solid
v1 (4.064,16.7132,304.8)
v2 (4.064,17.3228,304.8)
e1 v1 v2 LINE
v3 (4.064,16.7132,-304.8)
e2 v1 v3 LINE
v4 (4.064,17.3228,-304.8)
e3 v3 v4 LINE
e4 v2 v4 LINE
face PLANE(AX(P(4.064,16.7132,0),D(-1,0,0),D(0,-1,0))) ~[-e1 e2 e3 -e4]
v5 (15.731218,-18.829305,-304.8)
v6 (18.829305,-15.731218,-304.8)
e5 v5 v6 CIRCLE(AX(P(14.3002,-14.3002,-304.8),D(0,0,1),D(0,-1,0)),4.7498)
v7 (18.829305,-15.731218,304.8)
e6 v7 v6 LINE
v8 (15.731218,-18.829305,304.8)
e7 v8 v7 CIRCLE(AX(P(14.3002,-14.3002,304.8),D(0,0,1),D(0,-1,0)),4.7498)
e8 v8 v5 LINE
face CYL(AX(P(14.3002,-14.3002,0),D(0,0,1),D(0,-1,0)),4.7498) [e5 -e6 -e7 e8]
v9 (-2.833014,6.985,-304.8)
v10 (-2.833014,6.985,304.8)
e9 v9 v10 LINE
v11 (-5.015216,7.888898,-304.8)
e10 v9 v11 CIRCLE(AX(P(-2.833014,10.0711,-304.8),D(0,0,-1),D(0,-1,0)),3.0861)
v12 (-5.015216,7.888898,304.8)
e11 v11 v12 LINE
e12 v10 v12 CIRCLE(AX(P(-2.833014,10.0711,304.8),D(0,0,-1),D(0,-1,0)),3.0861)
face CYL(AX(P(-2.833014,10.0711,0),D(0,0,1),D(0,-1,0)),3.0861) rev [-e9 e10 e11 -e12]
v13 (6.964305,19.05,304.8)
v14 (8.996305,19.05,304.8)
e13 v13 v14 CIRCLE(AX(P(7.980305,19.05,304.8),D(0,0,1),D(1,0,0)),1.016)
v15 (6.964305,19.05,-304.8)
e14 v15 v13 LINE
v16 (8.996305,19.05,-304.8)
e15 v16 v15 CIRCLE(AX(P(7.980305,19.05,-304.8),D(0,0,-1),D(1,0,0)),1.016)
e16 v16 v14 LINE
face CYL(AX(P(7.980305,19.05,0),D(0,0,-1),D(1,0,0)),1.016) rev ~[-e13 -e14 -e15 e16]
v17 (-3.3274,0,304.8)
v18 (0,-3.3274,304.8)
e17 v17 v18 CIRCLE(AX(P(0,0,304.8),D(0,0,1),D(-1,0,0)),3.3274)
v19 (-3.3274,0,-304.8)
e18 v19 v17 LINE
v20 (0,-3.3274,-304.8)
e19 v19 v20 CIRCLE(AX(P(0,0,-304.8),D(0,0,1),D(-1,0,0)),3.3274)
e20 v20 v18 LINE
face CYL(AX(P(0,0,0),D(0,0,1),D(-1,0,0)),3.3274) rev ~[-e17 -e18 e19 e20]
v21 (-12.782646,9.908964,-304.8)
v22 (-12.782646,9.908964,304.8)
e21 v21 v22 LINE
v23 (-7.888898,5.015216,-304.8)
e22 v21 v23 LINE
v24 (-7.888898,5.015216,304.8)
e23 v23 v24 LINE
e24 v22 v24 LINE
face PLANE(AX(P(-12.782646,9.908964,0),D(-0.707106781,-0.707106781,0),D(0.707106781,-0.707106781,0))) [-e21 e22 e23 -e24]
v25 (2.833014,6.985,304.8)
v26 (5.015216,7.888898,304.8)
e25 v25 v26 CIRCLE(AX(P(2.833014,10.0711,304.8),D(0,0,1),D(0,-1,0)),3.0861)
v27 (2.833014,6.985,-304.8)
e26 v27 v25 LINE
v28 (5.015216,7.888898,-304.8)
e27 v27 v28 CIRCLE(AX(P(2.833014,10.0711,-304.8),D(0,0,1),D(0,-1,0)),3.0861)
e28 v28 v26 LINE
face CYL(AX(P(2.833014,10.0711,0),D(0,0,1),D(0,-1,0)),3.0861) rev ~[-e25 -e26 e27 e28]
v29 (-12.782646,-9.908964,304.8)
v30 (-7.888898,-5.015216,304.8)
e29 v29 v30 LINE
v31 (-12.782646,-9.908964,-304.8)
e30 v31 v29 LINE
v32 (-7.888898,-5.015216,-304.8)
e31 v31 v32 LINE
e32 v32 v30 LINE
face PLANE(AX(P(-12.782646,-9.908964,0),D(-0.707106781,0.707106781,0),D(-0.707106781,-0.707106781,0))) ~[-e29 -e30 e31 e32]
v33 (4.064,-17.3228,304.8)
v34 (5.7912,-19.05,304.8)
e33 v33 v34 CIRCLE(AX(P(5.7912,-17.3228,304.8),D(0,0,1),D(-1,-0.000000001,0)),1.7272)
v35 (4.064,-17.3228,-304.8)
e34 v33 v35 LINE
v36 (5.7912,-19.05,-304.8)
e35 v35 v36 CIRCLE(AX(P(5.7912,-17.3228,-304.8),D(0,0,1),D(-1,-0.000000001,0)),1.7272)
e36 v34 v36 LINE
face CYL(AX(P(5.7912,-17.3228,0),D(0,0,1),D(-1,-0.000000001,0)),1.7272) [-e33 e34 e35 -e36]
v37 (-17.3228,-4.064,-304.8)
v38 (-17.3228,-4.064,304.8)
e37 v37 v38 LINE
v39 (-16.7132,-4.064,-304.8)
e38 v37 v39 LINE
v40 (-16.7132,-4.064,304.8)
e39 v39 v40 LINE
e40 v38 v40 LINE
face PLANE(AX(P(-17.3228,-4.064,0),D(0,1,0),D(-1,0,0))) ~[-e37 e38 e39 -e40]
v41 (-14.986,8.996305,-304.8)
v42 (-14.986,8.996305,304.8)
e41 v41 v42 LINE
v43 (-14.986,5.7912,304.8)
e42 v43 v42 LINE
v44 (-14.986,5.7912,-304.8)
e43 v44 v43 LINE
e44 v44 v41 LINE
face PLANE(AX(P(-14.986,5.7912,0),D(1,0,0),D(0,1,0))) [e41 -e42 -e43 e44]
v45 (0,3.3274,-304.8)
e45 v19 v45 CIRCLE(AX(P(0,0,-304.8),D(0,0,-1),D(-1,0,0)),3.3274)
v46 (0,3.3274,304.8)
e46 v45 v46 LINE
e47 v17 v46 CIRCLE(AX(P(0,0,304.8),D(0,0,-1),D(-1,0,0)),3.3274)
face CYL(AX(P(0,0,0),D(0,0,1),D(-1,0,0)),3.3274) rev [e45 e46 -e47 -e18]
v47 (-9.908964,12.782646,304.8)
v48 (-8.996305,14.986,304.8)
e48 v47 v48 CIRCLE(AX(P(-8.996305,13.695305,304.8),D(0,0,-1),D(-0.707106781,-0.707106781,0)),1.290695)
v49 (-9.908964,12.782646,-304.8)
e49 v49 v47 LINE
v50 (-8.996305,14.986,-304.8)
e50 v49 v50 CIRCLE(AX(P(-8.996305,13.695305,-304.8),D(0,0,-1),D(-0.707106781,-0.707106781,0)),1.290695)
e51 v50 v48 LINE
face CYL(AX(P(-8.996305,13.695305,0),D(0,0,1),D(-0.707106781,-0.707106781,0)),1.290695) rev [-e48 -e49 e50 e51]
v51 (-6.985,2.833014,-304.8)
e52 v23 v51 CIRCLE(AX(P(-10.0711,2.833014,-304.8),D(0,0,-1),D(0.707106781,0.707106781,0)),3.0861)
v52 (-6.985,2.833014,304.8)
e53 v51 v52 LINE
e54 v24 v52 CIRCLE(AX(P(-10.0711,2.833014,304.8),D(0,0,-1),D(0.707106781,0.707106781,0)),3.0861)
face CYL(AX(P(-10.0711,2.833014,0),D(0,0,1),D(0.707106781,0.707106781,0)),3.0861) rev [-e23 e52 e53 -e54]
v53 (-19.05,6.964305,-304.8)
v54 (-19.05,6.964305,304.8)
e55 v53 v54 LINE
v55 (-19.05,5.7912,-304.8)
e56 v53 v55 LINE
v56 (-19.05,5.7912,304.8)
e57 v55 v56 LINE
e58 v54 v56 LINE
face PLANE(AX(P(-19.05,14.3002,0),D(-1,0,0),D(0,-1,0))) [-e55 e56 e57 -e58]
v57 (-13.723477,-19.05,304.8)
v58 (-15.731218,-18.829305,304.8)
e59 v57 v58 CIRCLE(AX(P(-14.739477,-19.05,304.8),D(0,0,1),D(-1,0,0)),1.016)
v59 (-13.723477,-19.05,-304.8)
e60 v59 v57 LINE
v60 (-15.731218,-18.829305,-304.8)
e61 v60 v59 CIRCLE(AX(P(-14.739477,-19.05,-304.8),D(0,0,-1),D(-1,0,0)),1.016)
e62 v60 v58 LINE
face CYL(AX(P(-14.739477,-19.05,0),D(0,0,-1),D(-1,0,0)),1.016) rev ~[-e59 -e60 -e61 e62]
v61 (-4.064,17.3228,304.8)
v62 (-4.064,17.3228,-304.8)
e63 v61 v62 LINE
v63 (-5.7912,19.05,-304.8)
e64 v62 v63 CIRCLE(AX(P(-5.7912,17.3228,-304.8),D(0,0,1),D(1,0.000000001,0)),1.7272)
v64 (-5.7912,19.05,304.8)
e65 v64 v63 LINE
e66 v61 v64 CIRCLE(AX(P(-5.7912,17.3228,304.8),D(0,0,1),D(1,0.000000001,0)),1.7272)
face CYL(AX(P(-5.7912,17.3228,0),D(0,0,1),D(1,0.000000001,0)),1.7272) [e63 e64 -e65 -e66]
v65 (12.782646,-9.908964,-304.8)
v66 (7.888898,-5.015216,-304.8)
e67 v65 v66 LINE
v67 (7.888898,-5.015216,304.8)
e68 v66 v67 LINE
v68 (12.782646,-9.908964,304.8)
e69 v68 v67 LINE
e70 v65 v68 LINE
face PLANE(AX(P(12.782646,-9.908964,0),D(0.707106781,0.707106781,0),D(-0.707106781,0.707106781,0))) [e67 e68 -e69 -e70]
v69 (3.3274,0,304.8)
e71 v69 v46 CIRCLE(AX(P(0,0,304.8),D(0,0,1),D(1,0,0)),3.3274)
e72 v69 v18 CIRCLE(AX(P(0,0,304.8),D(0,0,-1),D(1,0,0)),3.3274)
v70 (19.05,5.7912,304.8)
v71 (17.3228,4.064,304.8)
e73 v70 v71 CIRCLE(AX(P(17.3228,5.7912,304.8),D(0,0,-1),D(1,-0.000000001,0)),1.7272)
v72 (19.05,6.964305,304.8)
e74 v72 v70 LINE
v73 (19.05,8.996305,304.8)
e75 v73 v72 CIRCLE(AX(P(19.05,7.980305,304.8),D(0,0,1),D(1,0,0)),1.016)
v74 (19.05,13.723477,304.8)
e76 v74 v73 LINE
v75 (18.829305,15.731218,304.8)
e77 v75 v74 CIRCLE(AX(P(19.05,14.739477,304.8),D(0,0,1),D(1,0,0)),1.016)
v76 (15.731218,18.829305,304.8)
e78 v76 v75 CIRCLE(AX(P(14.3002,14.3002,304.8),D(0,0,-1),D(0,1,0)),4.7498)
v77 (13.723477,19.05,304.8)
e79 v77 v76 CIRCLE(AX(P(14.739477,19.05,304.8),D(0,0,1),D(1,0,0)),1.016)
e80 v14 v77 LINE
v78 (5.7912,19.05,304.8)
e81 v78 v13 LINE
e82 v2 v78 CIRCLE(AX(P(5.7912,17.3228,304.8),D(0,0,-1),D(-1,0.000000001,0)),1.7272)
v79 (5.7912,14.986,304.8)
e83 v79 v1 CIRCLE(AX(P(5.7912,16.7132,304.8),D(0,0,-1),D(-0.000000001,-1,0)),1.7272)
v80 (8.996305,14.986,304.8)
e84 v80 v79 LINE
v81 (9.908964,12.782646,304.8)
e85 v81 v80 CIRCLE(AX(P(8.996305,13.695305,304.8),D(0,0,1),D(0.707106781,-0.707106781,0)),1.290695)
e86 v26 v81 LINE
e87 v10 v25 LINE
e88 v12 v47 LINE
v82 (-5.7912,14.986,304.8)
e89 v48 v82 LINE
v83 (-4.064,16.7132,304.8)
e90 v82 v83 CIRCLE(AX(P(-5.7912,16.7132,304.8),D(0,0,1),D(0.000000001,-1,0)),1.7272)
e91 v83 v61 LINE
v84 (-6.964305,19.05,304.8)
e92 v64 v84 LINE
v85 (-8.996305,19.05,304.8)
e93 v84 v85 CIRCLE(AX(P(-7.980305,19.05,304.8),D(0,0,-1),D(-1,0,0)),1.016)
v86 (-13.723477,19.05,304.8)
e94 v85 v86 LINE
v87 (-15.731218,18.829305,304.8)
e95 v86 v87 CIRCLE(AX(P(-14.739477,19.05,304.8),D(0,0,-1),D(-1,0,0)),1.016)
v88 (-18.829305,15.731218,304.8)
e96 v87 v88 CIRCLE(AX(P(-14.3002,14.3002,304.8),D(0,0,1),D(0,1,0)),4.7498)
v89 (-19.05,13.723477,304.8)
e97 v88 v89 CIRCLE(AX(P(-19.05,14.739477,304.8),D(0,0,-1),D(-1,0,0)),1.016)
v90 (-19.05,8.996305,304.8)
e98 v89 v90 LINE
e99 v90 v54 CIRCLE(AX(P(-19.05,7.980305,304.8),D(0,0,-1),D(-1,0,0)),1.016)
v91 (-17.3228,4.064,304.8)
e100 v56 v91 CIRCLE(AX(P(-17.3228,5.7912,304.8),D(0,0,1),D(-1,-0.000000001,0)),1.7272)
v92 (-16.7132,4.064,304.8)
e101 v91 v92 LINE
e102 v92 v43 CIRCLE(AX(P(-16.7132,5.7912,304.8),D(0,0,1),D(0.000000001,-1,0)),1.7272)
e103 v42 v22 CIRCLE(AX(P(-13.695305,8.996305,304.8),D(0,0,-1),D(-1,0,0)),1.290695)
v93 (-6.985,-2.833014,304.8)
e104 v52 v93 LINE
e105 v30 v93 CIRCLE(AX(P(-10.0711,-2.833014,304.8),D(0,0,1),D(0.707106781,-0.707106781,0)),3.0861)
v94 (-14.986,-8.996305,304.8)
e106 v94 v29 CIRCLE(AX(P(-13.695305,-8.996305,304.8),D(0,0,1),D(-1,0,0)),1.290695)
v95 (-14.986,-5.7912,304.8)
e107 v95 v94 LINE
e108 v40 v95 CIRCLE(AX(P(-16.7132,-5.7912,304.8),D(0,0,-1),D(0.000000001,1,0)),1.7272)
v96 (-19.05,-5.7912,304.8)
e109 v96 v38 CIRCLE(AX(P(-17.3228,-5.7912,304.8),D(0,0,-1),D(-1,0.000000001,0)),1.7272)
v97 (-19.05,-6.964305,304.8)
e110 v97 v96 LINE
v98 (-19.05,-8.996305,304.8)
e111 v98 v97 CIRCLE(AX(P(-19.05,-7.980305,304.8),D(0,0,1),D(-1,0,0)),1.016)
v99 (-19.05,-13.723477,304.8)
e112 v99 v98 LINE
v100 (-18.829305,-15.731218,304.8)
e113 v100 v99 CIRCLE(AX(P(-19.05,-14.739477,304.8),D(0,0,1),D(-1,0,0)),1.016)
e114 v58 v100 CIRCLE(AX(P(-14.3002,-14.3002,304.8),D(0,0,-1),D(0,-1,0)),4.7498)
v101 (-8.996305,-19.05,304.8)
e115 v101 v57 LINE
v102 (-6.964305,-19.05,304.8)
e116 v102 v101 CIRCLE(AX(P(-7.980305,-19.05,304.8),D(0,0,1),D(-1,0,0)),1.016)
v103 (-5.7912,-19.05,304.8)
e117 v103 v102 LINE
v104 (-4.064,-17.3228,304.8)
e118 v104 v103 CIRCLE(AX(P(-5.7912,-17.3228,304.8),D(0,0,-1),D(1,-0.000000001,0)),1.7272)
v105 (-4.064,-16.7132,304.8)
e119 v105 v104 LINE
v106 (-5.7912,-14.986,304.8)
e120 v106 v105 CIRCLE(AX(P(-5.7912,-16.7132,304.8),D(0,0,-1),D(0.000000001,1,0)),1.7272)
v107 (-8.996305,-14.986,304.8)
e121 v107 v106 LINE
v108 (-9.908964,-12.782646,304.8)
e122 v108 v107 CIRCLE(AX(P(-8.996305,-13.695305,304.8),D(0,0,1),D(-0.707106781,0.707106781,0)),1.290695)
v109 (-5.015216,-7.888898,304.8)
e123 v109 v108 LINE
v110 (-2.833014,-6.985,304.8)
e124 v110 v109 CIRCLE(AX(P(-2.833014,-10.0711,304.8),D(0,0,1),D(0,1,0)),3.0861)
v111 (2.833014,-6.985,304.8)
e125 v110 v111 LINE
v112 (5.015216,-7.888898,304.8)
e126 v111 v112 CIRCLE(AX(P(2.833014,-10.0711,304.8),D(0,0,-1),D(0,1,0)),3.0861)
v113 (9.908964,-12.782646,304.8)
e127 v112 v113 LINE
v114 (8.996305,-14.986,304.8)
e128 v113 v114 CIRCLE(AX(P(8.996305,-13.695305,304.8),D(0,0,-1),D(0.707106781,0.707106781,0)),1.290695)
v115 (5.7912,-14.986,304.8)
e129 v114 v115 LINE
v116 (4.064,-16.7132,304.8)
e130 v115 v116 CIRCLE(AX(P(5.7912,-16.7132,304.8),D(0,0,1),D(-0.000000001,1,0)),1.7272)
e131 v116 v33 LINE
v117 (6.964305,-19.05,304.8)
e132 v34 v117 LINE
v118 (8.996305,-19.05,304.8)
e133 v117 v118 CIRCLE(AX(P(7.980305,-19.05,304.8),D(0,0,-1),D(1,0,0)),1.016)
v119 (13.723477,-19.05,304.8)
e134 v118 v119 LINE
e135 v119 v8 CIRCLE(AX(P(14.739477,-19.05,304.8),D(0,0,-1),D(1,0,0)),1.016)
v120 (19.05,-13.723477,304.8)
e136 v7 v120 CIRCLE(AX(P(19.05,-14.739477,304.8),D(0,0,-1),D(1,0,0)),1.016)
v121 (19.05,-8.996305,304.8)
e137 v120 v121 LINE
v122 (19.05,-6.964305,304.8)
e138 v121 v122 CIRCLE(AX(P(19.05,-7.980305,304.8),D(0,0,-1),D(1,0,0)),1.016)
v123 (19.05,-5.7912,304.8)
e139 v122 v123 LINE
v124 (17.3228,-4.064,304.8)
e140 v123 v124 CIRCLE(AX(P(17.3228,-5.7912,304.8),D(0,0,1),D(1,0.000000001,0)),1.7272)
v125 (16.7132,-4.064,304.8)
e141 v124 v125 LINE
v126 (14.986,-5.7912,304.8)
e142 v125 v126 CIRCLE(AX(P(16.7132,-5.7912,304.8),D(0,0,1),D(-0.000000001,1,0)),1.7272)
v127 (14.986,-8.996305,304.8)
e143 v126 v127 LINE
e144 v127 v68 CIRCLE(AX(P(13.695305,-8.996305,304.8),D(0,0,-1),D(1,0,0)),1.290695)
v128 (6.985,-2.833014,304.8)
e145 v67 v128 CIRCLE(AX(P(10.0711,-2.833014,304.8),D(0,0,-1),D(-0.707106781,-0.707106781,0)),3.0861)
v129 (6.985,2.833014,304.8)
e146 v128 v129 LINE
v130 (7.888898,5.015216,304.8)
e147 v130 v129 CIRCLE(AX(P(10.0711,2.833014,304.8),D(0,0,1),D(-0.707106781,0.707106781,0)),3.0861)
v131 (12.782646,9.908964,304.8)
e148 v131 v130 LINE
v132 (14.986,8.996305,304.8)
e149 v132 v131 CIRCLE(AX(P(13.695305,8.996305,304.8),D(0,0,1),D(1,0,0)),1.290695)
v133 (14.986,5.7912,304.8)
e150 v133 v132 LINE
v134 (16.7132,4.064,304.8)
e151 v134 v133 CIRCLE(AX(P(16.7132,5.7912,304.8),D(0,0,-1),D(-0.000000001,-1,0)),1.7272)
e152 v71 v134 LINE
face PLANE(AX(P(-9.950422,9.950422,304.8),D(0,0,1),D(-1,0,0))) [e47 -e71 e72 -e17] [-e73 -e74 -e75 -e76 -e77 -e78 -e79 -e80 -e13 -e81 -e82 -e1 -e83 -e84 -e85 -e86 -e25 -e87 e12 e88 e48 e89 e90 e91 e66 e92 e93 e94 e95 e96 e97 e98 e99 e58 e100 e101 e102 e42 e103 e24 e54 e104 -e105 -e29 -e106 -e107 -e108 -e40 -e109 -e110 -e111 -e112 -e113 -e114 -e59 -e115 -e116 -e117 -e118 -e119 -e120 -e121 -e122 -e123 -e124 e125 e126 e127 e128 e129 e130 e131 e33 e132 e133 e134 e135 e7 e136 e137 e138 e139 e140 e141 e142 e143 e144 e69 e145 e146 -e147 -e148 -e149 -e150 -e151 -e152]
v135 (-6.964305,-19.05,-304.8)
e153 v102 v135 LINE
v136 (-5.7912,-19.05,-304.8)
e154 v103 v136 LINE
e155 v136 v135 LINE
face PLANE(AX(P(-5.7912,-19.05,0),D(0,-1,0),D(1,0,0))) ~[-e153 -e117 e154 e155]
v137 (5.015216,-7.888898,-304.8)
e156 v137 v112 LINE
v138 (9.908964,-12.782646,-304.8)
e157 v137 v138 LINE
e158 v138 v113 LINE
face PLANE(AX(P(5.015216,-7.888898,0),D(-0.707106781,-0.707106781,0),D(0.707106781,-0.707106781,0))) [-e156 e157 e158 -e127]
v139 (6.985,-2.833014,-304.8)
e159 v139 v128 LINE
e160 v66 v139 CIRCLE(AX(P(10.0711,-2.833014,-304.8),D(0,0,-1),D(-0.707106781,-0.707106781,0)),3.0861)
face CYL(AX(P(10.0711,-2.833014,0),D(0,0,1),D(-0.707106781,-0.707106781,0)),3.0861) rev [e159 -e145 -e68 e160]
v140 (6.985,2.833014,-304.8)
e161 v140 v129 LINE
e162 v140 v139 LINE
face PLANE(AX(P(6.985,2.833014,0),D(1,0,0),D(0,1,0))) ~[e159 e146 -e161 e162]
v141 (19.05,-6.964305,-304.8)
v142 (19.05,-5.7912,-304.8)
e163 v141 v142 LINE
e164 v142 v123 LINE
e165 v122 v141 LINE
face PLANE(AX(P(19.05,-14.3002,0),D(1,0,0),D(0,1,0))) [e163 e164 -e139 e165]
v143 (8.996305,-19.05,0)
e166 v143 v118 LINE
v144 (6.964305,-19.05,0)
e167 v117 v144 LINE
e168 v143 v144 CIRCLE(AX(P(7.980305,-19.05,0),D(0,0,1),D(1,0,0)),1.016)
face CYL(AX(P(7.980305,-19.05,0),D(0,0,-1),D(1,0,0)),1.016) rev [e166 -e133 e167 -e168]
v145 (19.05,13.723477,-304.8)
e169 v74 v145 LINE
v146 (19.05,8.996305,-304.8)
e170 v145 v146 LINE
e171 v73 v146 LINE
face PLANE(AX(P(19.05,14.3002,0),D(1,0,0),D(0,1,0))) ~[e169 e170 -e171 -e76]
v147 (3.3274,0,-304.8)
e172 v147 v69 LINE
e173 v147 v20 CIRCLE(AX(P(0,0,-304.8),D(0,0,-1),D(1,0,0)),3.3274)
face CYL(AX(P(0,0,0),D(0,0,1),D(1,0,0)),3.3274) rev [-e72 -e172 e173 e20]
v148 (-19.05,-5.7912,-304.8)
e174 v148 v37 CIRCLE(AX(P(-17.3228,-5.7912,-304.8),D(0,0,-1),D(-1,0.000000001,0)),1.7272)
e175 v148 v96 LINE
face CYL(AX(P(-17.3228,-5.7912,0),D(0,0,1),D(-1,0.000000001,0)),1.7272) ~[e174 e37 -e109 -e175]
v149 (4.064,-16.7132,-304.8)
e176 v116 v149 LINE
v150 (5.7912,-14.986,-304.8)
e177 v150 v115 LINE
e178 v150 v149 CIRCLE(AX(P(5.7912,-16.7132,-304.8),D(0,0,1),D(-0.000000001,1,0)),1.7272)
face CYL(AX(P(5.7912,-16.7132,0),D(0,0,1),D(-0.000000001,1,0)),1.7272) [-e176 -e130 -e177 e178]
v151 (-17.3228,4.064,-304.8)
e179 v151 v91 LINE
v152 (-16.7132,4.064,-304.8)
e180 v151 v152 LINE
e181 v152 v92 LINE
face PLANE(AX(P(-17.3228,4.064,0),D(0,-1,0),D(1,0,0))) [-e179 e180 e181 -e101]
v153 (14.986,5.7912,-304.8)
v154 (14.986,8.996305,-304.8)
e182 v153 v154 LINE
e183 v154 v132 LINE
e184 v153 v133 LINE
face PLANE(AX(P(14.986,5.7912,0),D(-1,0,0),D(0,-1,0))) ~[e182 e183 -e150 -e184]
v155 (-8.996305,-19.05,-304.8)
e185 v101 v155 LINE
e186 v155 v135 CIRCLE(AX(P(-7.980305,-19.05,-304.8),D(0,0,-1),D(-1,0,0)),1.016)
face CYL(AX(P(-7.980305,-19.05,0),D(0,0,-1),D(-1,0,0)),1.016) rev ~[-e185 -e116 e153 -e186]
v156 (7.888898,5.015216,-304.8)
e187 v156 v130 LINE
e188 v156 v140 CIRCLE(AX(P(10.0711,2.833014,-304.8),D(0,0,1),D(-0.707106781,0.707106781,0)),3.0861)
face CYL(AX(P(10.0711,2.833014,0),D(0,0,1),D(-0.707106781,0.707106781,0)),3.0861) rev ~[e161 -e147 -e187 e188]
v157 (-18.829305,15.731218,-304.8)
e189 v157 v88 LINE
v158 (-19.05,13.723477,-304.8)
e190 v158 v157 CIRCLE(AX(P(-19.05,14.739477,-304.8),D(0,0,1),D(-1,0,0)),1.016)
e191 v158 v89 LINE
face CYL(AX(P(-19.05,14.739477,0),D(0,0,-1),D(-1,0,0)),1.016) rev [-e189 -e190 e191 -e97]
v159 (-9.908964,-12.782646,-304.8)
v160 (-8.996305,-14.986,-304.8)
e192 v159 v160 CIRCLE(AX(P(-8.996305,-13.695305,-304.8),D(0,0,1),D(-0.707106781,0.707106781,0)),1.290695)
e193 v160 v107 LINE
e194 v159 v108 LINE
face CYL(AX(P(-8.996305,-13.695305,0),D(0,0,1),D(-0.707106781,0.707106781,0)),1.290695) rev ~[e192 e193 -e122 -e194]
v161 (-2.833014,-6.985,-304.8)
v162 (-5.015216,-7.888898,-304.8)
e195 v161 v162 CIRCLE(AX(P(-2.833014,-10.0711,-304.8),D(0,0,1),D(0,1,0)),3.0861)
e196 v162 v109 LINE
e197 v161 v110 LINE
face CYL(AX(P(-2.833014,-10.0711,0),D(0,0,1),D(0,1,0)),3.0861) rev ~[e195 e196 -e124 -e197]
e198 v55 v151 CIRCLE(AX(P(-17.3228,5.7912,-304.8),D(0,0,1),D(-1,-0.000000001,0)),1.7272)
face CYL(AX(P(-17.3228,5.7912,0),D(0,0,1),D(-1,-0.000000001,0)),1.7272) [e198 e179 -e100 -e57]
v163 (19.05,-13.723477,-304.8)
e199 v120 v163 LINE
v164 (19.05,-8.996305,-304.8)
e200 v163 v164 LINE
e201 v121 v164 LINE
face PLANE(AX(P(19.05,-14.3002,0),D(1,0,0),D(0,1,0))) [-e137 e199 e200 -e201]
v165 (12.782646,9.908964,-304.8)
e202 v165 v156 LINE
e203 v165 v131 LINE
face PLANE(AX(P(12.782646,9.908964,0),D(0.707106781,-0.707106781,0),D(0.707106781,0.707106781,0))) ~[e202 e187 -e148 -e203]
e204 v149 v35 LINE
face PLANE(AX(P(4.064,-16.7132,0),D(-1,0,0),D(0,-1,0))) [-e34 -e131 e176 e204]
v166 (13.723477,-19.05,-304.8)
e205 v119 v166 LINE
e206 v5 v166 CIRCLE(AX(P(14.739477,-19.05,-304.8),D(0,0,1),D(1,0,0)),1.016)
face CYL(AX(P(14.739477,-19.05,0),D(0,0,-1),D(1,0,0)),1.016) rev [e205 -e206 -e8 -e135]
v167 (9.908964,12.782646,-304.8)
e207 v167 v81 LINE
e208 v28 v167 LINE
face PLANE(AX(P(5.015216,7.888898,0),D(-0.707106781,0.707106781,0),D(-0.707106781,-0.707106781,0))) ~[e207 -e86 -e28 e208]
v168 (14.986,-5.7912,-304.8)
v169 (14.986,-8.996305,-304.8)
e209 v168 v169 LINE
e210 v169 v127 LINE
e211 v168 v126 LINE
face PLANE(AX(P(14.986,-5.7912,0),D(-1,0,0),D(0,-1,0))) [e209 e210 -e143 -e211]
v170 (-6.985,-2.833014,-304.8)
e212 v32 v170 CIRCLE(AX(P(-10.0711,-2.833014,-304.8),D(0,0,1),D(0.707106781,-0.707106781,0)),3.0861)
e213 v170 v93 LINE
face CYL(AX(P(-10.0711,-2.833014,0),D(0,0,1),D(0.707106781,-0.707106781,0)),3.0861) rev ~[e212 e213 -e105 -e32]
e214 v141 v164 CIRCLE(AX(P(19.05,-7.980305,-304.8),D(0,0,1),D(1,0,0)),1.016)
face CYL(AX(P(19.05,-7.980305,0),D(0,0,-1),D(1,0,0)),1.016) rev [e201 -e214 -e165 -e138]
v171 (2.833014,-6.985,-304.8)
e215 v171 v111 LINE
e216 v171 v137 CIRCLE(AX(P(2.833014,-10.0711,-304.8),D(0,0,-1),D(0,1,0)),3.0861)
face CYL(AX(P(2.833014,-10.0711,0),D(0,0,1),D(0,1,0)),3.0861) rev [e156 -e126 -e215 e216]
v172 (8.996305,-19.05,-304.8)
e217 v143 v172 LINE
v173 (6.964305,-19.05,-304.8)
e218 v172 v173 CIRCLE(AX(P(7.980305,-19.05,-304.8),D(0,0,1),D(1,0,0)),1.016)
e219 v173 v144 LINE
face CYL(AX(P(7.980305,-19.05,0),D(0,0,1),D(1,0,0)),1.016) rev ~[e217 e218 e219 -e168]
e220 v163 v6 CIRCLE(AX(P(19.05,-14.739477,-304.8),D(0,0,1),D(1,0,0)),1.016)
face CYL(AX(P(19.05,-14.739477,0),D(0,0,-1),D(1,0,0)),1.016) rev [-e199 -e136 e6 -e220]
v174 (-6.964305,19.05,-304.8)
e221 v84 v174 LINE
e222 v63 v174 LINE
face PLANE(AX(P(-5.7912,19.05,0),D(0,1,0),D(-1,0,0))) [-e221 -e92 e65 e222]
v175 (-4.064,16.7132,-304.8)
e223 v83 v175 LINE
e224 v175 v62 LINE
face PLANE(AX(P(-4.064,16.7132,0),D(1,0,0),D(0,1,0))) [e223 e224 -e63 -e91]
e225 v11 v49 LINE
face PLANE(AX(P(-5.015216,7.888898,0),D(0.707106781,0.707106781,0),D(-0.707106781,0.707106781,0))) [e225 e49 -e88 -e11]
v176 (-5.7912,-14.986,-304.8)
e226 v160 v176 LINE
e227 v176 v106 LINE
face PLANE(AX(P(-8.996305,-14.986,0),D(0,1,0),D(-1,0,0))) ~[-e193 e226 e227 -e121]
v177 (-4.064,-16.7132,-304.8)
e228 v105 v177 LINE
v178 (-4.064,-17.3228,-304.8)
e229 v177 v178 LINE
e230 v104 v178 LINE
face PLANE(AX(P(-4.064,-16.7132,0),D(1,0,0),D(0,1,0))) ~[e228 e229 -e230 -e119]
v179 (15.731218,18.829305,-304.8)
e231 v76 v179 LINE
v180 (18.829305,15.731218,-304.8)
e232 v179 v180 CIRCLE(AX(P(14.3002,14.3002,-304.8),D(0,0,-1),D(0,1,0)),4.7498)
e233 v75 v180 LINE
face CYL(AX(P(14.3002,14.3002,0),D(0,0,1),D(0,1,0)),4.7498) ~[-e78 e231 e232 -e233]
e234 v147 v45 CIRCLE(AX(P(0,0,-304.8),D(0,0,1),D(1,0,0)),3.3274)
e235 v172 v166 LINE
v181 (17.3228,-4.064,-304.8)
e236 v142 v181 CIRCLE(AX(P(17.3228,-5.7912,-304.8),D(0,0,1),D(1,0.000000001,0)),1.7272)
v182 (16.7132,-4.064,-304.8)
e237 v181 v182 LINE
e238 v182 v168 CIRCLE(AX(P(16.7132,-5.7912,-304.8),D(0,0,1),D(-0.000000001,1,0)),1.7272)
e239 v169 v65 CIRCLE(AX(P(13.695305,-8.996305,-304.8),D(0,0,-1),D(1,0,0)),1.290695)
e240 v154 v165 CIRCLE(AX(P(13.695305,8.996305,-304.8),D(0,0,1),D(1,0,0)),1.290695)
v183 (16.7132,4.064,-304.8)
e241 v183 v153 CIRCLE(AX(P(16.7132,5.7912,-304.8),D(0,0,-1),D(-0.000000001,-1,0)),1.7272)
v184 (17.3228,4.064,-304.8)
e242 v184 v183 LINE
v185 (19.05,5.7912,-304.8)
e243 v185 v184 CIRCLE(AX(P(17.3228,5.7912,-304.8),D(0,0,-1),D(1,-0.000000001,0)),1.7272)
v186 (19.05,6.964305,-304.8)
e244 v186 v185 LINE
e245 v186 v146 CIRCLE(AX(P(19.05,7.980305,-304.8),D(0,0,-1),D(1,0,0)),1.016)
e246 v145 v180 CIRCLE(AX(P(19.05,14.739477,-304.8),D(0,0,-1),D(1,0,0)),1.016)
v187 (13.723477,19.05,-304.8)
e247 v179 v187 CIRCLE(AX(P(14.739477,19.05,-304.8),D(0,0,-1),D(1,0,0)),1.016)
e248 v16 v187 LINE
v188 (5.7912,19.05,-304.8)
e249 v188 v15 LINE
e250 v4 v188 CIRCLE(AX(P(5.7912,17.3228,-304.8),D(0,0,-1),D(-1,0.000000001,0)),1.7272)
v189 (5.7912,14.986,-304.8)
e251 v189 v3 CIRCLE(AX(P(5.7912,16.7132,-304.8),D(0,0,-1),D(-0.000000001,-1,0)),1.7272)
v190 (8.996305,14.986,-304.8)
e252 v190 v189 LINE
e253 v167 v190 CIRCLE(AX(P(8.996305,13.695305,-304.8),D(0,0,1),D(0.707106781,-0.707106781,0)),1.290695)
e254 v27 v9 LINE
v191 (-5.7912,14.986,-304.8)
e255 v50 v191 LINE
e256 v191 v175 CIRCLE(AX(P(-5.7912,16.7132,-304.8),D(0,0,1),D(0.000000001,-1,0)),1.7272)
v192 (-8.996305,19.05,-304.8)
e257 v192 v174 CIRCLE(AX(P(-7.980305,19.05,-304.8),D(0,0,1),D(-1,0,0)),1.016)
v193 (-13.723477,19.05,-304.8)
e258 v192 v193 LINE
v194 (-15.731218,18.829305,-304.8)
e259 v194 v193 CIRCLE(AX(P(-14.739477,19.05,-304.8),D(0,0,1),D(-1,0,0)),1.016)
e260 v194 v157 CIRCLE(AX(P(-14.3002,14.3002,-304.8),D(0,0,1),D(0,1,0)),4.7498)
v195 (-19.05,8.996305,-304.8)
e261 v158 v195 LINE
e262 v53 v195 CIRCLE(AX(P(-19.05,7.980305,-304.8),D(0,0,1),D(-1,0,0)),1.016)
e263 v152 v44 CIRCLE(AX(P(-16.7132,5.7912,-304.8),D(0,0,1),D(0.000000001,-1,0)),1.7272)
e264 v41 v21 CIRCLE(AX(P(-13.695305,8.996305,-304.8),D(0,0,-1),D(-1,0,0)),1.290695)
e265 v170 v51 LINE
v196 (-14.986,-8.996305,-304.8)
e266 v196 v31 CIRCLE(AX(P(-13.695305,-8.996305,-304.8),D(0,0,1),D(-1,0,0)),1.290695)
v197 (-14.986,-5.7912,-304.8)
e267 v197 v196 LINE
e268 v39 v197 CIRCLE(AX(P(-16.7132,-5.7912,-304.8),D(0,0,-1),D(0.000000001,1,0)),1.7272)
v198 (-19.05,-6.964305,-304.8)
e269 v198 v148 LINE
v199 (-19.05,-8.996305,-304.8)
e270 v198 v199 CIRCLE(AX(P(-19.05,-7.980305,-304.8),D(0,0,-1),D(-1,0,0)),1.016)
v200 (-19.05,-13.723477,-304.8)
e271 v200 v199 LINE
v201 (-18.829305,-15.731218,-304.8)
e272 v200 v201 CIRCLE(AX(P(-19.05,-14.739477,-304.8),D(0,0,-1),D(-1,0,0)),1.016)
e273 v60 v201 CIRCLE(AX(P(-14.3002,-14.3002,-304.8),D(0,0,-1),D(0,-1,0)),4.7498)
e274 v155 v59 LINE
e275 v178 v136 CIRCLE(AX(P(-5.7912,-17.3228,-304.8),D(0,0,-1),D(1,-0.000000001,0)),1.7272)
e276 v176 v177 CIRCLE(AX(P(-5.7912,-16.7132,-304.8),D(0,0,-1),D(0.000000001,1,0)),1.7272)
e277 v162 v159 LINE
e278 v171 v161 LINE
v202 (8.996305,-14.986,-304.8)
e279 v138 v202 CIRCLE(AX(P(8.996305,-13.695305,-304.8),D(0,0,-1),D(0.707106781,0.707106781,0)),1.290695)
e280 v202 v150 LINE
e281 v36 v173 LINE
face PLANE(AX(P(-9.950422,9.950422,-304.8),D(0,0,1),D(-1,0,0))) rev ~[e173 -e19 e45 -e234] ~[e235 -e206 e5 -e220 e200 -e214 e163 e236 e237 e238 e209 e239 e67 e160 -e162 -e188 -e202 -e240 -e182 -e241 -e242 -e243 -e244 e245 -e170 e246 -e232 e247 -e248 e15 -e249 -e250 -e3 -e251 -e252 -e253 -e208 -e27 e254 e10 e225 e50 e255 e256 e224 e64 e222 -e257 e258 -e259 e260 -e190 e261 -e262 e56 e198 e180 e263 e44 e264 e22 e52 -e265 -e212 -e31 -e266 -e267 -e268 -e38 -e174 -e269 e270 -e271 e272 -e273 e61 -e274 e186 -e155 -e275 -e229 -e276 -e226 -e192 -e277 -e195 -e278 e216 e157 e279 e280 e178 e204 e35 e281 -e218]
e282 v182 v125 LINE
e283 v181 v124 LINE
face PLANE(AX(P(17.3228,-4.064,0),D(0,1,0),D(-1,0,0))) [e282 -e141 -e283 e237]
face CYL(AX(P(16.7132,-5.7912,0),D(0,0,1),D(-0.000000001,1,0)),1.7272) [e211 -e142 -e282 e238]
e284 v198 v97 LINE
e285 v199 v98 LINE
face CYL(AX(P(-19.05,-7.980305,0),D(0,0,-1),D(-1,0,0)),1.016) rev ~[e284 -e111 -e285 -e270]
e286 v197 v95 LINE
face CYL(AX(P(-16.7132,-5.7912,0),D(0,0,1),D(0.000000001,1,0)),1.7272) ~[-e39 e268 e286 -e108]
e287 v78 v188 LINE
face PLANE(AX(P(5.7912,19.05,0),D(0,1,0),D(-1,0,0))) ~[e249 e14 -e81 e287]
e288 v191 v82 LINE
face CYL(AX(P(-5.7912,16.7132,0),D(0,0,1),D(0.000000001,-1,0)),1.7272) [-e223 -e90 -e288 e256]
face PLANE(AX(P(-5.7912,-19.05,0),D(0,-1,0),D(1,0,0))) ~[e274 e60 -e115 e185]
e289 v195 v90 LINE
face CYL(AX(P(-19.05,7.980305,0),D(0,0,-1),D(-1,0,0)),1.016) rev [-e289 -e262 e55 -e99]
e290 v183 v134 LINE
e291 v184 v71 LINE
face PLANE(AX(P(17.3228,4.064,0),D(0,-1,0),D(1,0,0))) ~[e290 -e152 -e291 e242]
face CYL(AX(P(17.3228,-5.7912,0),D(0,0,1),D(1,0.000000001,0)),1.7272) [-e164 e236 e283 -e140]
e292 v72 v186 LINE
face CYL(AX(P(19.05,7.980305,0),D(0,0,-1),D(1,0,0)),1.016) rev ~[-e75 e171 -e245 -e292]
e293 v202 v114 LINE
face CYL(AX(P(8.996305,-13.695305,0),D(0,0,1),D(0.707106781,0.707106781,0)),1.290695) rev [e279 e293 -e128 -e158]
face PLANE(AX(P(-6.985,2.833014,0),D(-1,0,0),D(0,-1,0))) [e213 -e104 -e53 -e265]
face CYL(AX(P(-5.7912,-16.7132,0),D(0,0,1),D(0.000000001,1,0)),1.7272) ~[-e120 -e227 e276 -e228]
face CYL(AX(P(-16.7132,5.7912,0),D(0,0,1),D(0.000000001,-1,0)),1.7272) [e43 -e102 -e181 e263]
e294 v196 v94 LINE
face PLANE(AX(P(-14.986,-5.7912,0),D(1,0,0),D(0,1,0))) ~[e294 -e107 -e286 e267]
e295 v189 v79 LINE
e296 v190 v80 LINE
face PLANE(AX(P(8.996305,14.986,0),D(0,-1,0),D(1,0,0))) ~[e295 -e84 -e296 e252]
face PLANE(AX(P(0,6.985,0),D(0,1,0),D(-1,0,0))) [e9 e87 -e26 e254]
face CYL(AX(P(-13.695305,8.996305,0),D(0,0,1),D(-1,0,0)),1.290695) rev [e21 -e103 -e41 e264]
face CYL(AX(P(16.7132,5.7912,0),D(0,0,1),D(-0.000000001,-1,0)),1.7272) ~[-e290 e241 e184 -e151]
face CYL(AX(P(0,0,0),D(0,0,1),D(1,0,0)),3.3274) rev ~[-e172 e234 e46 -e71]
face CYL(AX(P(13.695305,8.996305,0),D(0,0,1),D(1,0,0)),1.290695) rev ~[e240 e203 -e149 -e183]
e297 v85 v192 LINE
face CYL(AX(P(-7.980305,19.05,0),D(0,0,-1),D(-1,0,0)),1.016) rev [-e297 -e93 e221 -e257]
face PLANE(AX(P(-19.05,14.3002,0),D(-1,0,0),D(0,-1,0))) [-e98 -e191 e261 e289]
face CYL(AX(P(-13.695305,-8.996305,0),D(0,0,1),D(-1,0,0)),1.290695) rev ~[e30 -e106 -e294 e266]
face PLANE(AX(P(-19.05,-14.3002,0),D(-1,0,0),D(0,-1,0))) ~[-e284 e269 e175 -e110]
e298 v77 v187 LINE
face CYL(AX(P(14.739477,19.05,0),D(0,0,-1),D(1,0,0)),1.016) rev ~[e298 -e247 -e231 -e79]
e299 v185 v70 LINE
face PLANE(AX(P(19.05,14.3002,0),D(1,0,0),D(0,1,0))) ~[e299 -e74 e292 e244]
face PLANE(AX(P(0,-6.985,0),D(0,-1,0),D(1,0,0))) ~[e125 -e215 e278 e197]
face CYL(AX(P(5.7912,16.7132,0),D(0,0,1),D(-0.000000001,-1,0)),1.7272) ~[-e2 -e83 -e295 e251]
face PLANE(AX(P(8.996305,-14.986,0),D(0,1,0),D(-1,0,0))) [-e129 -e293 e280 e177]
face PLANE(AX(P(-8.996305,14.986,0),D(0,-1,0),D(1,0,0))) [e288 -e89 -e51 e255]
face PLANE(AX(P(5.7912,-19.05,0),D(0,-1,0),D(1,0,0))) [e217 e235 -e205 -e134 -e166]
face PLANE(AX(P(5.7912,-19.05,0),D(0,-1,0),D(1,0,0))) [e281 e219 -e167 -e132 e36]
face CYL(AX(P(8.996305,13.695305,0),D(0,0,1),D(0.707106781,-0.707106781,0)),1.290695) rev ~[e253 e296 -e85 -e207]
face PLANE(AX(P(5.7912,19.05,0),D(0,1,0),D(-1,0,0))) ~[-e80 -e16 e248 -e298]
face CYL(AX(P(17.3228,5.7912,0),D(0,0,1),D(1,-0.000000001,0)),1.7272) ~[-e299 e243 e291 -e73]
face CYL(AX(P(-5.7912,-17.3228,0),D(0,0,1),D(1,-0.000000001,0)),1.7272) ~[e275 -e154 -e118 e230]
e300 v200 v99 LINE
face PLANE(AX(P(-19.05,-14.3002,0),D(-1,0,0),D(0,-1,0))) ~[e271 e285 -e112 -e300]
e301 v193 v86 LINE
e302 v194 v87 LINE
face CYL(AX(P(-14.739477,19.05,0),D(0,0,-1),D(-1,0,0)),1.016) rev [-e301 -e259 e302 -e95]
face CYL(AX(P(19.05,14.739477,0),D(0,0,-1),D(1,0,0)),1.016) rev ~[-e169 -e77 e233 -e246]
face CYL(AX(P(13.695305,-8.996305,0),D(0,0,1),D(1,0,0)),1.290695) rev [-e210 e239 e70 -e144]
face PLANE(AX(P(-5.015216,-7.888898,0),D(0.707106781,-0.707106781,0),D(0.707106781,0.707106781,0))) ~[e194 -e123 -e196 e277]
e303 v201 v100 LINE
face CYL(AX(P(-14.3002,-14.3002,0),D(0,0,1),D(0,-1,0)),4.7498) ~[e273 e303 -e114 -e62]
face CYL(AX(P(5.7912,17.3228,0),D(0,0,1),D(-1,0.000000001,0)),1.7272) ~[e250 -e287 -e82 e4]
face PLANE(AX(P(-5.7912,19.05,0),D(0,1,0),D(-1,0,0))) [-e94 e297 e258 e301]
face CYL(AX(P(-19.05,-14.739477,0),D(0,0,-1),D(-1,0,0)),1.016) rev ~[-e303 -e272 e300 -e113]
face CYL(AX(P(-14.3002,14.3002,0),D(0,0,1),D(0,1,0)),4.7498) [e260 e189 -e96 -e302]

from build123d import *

# Parameters (mm, degrees)
BOSS_EXTRUDE1_DEPTH     = 304.8
SKETCH5_R               = 1.016
CUT_EXTRUDE1_DEPTH      = 305.8
CUT_EXTRUDE1_DEPTH_BACK = 305.8


with BuildPart() as part:
    # Sketch4 → Boss-Extrude1 (new body, symmetric)
    with BuildSketch(Plane.XY):
        with BuildLine():
            Line((5.7912, -19.05), (14.3002, -19.05))
            ThreePointArc((14.3002, -19.05), (17.658815789, -17.658815789), (19.05, -14.3002))
            Line((19.05, -14.3002), (19.05, -5.7912))
            ThreePointArc((19.05, -5.7912), (18.544114832, -4.569885168), (17.3228, -4.064))
            Line((17.3228, -4.064), (16.7132, -4.064))
            ThreePointArc((16.7132, -4.064), (15.491885168, -4.569885168), (14.986, -5.7912))
            Line((14.986, -5.7912), (14.986, -8.996305235))
            ThreePointArc((14.986, -8.996305235), (14.189232738, -10.188751711), (12.782646215, -9.908964256))
            Line((12.782646215, -9.908964256), (7.888897763, -5.015215804))
            ThreePointArc((7.888897763, -5.015215804), (7.219915375, -4.014012907), (6.985, -2.833013566))
            Line((6.985, -2.833013566), (6.985, 0))
            Line((6.985, 0), (3.3274, 0))
            ThreePointArc((3.3274, 0), (2.352827104, -2.352827104), (0, -3.3274))
            Line((0, -3.3274), (0, -6.985))
            Line((0, -6.985), (2.833013566, -6.985))
            ThreePointArc((2.833013566, -6.985), (4.014012907, -7.219915375), (5.015215804, -7.888897763))
            Line((5.015215804, -7.888897763), (9.908964256, -12.782646215))
            ThreePointArc((9.908964256, -12.782646215), (10.188751711, -14.189232738), (8.996305235, -14.986))
            Line((8.996305235, -14.986), (5.7912, -14.986))
            ThreePointArc((5.7912, -14.986), (4.569885168, -15.491885168), (4.064, -16.7132))
            Line((4.064, -16.7132), (4.064, -17.3228))
            ThreePointArc((4.064, -17.3228), (4.569885168, -18.544114832), (5.7912, -19.05))
        make_face()
    extrude(amount=BOSS_EXTRUDE1_DEPTH, both=True)

    # Sketch5 → Cut-Extrude1 (cut, two sides)
    with BuildSketch(Plane.XY) as cut_extrude1_sk:
        with Locations((14.739477062, -19.05)):
            Circle(SKETCH5_R)
        with Locations((7.980305235, -19.05)):
            Circle(SKETCH5_R)
        with Locations((19.05, -14.739477062)):
            Circle(SKETCH5_R)
        with Locations((19.05, -7.980305235)):
            Circle(SKETCH5_R)
    extrude(amount=CUT_EXTRUDE1_DEPTH, mode=Mode.SUBTRACT)
    extrude(cut_extrude1_sk.sketch, amount=-CUT_EXTRUDE1_DEPTH_BACK, mode=Mode.SUBTRACT)

    # Mirror1: part across plane


with BuildPart() as part_1:
    add(part.part)
    add(part.part.mirror(Plane(origin=(0, 0, 0), x_dir=(0, 0, 1), z_dir=(1, 0, 0))))

    # Mirror2: part across plane


with BuildPart() as part_2:
    add(part_1.part)
    add(part_1.part.mirror(Plane.ZX))


solid = part_2.part
